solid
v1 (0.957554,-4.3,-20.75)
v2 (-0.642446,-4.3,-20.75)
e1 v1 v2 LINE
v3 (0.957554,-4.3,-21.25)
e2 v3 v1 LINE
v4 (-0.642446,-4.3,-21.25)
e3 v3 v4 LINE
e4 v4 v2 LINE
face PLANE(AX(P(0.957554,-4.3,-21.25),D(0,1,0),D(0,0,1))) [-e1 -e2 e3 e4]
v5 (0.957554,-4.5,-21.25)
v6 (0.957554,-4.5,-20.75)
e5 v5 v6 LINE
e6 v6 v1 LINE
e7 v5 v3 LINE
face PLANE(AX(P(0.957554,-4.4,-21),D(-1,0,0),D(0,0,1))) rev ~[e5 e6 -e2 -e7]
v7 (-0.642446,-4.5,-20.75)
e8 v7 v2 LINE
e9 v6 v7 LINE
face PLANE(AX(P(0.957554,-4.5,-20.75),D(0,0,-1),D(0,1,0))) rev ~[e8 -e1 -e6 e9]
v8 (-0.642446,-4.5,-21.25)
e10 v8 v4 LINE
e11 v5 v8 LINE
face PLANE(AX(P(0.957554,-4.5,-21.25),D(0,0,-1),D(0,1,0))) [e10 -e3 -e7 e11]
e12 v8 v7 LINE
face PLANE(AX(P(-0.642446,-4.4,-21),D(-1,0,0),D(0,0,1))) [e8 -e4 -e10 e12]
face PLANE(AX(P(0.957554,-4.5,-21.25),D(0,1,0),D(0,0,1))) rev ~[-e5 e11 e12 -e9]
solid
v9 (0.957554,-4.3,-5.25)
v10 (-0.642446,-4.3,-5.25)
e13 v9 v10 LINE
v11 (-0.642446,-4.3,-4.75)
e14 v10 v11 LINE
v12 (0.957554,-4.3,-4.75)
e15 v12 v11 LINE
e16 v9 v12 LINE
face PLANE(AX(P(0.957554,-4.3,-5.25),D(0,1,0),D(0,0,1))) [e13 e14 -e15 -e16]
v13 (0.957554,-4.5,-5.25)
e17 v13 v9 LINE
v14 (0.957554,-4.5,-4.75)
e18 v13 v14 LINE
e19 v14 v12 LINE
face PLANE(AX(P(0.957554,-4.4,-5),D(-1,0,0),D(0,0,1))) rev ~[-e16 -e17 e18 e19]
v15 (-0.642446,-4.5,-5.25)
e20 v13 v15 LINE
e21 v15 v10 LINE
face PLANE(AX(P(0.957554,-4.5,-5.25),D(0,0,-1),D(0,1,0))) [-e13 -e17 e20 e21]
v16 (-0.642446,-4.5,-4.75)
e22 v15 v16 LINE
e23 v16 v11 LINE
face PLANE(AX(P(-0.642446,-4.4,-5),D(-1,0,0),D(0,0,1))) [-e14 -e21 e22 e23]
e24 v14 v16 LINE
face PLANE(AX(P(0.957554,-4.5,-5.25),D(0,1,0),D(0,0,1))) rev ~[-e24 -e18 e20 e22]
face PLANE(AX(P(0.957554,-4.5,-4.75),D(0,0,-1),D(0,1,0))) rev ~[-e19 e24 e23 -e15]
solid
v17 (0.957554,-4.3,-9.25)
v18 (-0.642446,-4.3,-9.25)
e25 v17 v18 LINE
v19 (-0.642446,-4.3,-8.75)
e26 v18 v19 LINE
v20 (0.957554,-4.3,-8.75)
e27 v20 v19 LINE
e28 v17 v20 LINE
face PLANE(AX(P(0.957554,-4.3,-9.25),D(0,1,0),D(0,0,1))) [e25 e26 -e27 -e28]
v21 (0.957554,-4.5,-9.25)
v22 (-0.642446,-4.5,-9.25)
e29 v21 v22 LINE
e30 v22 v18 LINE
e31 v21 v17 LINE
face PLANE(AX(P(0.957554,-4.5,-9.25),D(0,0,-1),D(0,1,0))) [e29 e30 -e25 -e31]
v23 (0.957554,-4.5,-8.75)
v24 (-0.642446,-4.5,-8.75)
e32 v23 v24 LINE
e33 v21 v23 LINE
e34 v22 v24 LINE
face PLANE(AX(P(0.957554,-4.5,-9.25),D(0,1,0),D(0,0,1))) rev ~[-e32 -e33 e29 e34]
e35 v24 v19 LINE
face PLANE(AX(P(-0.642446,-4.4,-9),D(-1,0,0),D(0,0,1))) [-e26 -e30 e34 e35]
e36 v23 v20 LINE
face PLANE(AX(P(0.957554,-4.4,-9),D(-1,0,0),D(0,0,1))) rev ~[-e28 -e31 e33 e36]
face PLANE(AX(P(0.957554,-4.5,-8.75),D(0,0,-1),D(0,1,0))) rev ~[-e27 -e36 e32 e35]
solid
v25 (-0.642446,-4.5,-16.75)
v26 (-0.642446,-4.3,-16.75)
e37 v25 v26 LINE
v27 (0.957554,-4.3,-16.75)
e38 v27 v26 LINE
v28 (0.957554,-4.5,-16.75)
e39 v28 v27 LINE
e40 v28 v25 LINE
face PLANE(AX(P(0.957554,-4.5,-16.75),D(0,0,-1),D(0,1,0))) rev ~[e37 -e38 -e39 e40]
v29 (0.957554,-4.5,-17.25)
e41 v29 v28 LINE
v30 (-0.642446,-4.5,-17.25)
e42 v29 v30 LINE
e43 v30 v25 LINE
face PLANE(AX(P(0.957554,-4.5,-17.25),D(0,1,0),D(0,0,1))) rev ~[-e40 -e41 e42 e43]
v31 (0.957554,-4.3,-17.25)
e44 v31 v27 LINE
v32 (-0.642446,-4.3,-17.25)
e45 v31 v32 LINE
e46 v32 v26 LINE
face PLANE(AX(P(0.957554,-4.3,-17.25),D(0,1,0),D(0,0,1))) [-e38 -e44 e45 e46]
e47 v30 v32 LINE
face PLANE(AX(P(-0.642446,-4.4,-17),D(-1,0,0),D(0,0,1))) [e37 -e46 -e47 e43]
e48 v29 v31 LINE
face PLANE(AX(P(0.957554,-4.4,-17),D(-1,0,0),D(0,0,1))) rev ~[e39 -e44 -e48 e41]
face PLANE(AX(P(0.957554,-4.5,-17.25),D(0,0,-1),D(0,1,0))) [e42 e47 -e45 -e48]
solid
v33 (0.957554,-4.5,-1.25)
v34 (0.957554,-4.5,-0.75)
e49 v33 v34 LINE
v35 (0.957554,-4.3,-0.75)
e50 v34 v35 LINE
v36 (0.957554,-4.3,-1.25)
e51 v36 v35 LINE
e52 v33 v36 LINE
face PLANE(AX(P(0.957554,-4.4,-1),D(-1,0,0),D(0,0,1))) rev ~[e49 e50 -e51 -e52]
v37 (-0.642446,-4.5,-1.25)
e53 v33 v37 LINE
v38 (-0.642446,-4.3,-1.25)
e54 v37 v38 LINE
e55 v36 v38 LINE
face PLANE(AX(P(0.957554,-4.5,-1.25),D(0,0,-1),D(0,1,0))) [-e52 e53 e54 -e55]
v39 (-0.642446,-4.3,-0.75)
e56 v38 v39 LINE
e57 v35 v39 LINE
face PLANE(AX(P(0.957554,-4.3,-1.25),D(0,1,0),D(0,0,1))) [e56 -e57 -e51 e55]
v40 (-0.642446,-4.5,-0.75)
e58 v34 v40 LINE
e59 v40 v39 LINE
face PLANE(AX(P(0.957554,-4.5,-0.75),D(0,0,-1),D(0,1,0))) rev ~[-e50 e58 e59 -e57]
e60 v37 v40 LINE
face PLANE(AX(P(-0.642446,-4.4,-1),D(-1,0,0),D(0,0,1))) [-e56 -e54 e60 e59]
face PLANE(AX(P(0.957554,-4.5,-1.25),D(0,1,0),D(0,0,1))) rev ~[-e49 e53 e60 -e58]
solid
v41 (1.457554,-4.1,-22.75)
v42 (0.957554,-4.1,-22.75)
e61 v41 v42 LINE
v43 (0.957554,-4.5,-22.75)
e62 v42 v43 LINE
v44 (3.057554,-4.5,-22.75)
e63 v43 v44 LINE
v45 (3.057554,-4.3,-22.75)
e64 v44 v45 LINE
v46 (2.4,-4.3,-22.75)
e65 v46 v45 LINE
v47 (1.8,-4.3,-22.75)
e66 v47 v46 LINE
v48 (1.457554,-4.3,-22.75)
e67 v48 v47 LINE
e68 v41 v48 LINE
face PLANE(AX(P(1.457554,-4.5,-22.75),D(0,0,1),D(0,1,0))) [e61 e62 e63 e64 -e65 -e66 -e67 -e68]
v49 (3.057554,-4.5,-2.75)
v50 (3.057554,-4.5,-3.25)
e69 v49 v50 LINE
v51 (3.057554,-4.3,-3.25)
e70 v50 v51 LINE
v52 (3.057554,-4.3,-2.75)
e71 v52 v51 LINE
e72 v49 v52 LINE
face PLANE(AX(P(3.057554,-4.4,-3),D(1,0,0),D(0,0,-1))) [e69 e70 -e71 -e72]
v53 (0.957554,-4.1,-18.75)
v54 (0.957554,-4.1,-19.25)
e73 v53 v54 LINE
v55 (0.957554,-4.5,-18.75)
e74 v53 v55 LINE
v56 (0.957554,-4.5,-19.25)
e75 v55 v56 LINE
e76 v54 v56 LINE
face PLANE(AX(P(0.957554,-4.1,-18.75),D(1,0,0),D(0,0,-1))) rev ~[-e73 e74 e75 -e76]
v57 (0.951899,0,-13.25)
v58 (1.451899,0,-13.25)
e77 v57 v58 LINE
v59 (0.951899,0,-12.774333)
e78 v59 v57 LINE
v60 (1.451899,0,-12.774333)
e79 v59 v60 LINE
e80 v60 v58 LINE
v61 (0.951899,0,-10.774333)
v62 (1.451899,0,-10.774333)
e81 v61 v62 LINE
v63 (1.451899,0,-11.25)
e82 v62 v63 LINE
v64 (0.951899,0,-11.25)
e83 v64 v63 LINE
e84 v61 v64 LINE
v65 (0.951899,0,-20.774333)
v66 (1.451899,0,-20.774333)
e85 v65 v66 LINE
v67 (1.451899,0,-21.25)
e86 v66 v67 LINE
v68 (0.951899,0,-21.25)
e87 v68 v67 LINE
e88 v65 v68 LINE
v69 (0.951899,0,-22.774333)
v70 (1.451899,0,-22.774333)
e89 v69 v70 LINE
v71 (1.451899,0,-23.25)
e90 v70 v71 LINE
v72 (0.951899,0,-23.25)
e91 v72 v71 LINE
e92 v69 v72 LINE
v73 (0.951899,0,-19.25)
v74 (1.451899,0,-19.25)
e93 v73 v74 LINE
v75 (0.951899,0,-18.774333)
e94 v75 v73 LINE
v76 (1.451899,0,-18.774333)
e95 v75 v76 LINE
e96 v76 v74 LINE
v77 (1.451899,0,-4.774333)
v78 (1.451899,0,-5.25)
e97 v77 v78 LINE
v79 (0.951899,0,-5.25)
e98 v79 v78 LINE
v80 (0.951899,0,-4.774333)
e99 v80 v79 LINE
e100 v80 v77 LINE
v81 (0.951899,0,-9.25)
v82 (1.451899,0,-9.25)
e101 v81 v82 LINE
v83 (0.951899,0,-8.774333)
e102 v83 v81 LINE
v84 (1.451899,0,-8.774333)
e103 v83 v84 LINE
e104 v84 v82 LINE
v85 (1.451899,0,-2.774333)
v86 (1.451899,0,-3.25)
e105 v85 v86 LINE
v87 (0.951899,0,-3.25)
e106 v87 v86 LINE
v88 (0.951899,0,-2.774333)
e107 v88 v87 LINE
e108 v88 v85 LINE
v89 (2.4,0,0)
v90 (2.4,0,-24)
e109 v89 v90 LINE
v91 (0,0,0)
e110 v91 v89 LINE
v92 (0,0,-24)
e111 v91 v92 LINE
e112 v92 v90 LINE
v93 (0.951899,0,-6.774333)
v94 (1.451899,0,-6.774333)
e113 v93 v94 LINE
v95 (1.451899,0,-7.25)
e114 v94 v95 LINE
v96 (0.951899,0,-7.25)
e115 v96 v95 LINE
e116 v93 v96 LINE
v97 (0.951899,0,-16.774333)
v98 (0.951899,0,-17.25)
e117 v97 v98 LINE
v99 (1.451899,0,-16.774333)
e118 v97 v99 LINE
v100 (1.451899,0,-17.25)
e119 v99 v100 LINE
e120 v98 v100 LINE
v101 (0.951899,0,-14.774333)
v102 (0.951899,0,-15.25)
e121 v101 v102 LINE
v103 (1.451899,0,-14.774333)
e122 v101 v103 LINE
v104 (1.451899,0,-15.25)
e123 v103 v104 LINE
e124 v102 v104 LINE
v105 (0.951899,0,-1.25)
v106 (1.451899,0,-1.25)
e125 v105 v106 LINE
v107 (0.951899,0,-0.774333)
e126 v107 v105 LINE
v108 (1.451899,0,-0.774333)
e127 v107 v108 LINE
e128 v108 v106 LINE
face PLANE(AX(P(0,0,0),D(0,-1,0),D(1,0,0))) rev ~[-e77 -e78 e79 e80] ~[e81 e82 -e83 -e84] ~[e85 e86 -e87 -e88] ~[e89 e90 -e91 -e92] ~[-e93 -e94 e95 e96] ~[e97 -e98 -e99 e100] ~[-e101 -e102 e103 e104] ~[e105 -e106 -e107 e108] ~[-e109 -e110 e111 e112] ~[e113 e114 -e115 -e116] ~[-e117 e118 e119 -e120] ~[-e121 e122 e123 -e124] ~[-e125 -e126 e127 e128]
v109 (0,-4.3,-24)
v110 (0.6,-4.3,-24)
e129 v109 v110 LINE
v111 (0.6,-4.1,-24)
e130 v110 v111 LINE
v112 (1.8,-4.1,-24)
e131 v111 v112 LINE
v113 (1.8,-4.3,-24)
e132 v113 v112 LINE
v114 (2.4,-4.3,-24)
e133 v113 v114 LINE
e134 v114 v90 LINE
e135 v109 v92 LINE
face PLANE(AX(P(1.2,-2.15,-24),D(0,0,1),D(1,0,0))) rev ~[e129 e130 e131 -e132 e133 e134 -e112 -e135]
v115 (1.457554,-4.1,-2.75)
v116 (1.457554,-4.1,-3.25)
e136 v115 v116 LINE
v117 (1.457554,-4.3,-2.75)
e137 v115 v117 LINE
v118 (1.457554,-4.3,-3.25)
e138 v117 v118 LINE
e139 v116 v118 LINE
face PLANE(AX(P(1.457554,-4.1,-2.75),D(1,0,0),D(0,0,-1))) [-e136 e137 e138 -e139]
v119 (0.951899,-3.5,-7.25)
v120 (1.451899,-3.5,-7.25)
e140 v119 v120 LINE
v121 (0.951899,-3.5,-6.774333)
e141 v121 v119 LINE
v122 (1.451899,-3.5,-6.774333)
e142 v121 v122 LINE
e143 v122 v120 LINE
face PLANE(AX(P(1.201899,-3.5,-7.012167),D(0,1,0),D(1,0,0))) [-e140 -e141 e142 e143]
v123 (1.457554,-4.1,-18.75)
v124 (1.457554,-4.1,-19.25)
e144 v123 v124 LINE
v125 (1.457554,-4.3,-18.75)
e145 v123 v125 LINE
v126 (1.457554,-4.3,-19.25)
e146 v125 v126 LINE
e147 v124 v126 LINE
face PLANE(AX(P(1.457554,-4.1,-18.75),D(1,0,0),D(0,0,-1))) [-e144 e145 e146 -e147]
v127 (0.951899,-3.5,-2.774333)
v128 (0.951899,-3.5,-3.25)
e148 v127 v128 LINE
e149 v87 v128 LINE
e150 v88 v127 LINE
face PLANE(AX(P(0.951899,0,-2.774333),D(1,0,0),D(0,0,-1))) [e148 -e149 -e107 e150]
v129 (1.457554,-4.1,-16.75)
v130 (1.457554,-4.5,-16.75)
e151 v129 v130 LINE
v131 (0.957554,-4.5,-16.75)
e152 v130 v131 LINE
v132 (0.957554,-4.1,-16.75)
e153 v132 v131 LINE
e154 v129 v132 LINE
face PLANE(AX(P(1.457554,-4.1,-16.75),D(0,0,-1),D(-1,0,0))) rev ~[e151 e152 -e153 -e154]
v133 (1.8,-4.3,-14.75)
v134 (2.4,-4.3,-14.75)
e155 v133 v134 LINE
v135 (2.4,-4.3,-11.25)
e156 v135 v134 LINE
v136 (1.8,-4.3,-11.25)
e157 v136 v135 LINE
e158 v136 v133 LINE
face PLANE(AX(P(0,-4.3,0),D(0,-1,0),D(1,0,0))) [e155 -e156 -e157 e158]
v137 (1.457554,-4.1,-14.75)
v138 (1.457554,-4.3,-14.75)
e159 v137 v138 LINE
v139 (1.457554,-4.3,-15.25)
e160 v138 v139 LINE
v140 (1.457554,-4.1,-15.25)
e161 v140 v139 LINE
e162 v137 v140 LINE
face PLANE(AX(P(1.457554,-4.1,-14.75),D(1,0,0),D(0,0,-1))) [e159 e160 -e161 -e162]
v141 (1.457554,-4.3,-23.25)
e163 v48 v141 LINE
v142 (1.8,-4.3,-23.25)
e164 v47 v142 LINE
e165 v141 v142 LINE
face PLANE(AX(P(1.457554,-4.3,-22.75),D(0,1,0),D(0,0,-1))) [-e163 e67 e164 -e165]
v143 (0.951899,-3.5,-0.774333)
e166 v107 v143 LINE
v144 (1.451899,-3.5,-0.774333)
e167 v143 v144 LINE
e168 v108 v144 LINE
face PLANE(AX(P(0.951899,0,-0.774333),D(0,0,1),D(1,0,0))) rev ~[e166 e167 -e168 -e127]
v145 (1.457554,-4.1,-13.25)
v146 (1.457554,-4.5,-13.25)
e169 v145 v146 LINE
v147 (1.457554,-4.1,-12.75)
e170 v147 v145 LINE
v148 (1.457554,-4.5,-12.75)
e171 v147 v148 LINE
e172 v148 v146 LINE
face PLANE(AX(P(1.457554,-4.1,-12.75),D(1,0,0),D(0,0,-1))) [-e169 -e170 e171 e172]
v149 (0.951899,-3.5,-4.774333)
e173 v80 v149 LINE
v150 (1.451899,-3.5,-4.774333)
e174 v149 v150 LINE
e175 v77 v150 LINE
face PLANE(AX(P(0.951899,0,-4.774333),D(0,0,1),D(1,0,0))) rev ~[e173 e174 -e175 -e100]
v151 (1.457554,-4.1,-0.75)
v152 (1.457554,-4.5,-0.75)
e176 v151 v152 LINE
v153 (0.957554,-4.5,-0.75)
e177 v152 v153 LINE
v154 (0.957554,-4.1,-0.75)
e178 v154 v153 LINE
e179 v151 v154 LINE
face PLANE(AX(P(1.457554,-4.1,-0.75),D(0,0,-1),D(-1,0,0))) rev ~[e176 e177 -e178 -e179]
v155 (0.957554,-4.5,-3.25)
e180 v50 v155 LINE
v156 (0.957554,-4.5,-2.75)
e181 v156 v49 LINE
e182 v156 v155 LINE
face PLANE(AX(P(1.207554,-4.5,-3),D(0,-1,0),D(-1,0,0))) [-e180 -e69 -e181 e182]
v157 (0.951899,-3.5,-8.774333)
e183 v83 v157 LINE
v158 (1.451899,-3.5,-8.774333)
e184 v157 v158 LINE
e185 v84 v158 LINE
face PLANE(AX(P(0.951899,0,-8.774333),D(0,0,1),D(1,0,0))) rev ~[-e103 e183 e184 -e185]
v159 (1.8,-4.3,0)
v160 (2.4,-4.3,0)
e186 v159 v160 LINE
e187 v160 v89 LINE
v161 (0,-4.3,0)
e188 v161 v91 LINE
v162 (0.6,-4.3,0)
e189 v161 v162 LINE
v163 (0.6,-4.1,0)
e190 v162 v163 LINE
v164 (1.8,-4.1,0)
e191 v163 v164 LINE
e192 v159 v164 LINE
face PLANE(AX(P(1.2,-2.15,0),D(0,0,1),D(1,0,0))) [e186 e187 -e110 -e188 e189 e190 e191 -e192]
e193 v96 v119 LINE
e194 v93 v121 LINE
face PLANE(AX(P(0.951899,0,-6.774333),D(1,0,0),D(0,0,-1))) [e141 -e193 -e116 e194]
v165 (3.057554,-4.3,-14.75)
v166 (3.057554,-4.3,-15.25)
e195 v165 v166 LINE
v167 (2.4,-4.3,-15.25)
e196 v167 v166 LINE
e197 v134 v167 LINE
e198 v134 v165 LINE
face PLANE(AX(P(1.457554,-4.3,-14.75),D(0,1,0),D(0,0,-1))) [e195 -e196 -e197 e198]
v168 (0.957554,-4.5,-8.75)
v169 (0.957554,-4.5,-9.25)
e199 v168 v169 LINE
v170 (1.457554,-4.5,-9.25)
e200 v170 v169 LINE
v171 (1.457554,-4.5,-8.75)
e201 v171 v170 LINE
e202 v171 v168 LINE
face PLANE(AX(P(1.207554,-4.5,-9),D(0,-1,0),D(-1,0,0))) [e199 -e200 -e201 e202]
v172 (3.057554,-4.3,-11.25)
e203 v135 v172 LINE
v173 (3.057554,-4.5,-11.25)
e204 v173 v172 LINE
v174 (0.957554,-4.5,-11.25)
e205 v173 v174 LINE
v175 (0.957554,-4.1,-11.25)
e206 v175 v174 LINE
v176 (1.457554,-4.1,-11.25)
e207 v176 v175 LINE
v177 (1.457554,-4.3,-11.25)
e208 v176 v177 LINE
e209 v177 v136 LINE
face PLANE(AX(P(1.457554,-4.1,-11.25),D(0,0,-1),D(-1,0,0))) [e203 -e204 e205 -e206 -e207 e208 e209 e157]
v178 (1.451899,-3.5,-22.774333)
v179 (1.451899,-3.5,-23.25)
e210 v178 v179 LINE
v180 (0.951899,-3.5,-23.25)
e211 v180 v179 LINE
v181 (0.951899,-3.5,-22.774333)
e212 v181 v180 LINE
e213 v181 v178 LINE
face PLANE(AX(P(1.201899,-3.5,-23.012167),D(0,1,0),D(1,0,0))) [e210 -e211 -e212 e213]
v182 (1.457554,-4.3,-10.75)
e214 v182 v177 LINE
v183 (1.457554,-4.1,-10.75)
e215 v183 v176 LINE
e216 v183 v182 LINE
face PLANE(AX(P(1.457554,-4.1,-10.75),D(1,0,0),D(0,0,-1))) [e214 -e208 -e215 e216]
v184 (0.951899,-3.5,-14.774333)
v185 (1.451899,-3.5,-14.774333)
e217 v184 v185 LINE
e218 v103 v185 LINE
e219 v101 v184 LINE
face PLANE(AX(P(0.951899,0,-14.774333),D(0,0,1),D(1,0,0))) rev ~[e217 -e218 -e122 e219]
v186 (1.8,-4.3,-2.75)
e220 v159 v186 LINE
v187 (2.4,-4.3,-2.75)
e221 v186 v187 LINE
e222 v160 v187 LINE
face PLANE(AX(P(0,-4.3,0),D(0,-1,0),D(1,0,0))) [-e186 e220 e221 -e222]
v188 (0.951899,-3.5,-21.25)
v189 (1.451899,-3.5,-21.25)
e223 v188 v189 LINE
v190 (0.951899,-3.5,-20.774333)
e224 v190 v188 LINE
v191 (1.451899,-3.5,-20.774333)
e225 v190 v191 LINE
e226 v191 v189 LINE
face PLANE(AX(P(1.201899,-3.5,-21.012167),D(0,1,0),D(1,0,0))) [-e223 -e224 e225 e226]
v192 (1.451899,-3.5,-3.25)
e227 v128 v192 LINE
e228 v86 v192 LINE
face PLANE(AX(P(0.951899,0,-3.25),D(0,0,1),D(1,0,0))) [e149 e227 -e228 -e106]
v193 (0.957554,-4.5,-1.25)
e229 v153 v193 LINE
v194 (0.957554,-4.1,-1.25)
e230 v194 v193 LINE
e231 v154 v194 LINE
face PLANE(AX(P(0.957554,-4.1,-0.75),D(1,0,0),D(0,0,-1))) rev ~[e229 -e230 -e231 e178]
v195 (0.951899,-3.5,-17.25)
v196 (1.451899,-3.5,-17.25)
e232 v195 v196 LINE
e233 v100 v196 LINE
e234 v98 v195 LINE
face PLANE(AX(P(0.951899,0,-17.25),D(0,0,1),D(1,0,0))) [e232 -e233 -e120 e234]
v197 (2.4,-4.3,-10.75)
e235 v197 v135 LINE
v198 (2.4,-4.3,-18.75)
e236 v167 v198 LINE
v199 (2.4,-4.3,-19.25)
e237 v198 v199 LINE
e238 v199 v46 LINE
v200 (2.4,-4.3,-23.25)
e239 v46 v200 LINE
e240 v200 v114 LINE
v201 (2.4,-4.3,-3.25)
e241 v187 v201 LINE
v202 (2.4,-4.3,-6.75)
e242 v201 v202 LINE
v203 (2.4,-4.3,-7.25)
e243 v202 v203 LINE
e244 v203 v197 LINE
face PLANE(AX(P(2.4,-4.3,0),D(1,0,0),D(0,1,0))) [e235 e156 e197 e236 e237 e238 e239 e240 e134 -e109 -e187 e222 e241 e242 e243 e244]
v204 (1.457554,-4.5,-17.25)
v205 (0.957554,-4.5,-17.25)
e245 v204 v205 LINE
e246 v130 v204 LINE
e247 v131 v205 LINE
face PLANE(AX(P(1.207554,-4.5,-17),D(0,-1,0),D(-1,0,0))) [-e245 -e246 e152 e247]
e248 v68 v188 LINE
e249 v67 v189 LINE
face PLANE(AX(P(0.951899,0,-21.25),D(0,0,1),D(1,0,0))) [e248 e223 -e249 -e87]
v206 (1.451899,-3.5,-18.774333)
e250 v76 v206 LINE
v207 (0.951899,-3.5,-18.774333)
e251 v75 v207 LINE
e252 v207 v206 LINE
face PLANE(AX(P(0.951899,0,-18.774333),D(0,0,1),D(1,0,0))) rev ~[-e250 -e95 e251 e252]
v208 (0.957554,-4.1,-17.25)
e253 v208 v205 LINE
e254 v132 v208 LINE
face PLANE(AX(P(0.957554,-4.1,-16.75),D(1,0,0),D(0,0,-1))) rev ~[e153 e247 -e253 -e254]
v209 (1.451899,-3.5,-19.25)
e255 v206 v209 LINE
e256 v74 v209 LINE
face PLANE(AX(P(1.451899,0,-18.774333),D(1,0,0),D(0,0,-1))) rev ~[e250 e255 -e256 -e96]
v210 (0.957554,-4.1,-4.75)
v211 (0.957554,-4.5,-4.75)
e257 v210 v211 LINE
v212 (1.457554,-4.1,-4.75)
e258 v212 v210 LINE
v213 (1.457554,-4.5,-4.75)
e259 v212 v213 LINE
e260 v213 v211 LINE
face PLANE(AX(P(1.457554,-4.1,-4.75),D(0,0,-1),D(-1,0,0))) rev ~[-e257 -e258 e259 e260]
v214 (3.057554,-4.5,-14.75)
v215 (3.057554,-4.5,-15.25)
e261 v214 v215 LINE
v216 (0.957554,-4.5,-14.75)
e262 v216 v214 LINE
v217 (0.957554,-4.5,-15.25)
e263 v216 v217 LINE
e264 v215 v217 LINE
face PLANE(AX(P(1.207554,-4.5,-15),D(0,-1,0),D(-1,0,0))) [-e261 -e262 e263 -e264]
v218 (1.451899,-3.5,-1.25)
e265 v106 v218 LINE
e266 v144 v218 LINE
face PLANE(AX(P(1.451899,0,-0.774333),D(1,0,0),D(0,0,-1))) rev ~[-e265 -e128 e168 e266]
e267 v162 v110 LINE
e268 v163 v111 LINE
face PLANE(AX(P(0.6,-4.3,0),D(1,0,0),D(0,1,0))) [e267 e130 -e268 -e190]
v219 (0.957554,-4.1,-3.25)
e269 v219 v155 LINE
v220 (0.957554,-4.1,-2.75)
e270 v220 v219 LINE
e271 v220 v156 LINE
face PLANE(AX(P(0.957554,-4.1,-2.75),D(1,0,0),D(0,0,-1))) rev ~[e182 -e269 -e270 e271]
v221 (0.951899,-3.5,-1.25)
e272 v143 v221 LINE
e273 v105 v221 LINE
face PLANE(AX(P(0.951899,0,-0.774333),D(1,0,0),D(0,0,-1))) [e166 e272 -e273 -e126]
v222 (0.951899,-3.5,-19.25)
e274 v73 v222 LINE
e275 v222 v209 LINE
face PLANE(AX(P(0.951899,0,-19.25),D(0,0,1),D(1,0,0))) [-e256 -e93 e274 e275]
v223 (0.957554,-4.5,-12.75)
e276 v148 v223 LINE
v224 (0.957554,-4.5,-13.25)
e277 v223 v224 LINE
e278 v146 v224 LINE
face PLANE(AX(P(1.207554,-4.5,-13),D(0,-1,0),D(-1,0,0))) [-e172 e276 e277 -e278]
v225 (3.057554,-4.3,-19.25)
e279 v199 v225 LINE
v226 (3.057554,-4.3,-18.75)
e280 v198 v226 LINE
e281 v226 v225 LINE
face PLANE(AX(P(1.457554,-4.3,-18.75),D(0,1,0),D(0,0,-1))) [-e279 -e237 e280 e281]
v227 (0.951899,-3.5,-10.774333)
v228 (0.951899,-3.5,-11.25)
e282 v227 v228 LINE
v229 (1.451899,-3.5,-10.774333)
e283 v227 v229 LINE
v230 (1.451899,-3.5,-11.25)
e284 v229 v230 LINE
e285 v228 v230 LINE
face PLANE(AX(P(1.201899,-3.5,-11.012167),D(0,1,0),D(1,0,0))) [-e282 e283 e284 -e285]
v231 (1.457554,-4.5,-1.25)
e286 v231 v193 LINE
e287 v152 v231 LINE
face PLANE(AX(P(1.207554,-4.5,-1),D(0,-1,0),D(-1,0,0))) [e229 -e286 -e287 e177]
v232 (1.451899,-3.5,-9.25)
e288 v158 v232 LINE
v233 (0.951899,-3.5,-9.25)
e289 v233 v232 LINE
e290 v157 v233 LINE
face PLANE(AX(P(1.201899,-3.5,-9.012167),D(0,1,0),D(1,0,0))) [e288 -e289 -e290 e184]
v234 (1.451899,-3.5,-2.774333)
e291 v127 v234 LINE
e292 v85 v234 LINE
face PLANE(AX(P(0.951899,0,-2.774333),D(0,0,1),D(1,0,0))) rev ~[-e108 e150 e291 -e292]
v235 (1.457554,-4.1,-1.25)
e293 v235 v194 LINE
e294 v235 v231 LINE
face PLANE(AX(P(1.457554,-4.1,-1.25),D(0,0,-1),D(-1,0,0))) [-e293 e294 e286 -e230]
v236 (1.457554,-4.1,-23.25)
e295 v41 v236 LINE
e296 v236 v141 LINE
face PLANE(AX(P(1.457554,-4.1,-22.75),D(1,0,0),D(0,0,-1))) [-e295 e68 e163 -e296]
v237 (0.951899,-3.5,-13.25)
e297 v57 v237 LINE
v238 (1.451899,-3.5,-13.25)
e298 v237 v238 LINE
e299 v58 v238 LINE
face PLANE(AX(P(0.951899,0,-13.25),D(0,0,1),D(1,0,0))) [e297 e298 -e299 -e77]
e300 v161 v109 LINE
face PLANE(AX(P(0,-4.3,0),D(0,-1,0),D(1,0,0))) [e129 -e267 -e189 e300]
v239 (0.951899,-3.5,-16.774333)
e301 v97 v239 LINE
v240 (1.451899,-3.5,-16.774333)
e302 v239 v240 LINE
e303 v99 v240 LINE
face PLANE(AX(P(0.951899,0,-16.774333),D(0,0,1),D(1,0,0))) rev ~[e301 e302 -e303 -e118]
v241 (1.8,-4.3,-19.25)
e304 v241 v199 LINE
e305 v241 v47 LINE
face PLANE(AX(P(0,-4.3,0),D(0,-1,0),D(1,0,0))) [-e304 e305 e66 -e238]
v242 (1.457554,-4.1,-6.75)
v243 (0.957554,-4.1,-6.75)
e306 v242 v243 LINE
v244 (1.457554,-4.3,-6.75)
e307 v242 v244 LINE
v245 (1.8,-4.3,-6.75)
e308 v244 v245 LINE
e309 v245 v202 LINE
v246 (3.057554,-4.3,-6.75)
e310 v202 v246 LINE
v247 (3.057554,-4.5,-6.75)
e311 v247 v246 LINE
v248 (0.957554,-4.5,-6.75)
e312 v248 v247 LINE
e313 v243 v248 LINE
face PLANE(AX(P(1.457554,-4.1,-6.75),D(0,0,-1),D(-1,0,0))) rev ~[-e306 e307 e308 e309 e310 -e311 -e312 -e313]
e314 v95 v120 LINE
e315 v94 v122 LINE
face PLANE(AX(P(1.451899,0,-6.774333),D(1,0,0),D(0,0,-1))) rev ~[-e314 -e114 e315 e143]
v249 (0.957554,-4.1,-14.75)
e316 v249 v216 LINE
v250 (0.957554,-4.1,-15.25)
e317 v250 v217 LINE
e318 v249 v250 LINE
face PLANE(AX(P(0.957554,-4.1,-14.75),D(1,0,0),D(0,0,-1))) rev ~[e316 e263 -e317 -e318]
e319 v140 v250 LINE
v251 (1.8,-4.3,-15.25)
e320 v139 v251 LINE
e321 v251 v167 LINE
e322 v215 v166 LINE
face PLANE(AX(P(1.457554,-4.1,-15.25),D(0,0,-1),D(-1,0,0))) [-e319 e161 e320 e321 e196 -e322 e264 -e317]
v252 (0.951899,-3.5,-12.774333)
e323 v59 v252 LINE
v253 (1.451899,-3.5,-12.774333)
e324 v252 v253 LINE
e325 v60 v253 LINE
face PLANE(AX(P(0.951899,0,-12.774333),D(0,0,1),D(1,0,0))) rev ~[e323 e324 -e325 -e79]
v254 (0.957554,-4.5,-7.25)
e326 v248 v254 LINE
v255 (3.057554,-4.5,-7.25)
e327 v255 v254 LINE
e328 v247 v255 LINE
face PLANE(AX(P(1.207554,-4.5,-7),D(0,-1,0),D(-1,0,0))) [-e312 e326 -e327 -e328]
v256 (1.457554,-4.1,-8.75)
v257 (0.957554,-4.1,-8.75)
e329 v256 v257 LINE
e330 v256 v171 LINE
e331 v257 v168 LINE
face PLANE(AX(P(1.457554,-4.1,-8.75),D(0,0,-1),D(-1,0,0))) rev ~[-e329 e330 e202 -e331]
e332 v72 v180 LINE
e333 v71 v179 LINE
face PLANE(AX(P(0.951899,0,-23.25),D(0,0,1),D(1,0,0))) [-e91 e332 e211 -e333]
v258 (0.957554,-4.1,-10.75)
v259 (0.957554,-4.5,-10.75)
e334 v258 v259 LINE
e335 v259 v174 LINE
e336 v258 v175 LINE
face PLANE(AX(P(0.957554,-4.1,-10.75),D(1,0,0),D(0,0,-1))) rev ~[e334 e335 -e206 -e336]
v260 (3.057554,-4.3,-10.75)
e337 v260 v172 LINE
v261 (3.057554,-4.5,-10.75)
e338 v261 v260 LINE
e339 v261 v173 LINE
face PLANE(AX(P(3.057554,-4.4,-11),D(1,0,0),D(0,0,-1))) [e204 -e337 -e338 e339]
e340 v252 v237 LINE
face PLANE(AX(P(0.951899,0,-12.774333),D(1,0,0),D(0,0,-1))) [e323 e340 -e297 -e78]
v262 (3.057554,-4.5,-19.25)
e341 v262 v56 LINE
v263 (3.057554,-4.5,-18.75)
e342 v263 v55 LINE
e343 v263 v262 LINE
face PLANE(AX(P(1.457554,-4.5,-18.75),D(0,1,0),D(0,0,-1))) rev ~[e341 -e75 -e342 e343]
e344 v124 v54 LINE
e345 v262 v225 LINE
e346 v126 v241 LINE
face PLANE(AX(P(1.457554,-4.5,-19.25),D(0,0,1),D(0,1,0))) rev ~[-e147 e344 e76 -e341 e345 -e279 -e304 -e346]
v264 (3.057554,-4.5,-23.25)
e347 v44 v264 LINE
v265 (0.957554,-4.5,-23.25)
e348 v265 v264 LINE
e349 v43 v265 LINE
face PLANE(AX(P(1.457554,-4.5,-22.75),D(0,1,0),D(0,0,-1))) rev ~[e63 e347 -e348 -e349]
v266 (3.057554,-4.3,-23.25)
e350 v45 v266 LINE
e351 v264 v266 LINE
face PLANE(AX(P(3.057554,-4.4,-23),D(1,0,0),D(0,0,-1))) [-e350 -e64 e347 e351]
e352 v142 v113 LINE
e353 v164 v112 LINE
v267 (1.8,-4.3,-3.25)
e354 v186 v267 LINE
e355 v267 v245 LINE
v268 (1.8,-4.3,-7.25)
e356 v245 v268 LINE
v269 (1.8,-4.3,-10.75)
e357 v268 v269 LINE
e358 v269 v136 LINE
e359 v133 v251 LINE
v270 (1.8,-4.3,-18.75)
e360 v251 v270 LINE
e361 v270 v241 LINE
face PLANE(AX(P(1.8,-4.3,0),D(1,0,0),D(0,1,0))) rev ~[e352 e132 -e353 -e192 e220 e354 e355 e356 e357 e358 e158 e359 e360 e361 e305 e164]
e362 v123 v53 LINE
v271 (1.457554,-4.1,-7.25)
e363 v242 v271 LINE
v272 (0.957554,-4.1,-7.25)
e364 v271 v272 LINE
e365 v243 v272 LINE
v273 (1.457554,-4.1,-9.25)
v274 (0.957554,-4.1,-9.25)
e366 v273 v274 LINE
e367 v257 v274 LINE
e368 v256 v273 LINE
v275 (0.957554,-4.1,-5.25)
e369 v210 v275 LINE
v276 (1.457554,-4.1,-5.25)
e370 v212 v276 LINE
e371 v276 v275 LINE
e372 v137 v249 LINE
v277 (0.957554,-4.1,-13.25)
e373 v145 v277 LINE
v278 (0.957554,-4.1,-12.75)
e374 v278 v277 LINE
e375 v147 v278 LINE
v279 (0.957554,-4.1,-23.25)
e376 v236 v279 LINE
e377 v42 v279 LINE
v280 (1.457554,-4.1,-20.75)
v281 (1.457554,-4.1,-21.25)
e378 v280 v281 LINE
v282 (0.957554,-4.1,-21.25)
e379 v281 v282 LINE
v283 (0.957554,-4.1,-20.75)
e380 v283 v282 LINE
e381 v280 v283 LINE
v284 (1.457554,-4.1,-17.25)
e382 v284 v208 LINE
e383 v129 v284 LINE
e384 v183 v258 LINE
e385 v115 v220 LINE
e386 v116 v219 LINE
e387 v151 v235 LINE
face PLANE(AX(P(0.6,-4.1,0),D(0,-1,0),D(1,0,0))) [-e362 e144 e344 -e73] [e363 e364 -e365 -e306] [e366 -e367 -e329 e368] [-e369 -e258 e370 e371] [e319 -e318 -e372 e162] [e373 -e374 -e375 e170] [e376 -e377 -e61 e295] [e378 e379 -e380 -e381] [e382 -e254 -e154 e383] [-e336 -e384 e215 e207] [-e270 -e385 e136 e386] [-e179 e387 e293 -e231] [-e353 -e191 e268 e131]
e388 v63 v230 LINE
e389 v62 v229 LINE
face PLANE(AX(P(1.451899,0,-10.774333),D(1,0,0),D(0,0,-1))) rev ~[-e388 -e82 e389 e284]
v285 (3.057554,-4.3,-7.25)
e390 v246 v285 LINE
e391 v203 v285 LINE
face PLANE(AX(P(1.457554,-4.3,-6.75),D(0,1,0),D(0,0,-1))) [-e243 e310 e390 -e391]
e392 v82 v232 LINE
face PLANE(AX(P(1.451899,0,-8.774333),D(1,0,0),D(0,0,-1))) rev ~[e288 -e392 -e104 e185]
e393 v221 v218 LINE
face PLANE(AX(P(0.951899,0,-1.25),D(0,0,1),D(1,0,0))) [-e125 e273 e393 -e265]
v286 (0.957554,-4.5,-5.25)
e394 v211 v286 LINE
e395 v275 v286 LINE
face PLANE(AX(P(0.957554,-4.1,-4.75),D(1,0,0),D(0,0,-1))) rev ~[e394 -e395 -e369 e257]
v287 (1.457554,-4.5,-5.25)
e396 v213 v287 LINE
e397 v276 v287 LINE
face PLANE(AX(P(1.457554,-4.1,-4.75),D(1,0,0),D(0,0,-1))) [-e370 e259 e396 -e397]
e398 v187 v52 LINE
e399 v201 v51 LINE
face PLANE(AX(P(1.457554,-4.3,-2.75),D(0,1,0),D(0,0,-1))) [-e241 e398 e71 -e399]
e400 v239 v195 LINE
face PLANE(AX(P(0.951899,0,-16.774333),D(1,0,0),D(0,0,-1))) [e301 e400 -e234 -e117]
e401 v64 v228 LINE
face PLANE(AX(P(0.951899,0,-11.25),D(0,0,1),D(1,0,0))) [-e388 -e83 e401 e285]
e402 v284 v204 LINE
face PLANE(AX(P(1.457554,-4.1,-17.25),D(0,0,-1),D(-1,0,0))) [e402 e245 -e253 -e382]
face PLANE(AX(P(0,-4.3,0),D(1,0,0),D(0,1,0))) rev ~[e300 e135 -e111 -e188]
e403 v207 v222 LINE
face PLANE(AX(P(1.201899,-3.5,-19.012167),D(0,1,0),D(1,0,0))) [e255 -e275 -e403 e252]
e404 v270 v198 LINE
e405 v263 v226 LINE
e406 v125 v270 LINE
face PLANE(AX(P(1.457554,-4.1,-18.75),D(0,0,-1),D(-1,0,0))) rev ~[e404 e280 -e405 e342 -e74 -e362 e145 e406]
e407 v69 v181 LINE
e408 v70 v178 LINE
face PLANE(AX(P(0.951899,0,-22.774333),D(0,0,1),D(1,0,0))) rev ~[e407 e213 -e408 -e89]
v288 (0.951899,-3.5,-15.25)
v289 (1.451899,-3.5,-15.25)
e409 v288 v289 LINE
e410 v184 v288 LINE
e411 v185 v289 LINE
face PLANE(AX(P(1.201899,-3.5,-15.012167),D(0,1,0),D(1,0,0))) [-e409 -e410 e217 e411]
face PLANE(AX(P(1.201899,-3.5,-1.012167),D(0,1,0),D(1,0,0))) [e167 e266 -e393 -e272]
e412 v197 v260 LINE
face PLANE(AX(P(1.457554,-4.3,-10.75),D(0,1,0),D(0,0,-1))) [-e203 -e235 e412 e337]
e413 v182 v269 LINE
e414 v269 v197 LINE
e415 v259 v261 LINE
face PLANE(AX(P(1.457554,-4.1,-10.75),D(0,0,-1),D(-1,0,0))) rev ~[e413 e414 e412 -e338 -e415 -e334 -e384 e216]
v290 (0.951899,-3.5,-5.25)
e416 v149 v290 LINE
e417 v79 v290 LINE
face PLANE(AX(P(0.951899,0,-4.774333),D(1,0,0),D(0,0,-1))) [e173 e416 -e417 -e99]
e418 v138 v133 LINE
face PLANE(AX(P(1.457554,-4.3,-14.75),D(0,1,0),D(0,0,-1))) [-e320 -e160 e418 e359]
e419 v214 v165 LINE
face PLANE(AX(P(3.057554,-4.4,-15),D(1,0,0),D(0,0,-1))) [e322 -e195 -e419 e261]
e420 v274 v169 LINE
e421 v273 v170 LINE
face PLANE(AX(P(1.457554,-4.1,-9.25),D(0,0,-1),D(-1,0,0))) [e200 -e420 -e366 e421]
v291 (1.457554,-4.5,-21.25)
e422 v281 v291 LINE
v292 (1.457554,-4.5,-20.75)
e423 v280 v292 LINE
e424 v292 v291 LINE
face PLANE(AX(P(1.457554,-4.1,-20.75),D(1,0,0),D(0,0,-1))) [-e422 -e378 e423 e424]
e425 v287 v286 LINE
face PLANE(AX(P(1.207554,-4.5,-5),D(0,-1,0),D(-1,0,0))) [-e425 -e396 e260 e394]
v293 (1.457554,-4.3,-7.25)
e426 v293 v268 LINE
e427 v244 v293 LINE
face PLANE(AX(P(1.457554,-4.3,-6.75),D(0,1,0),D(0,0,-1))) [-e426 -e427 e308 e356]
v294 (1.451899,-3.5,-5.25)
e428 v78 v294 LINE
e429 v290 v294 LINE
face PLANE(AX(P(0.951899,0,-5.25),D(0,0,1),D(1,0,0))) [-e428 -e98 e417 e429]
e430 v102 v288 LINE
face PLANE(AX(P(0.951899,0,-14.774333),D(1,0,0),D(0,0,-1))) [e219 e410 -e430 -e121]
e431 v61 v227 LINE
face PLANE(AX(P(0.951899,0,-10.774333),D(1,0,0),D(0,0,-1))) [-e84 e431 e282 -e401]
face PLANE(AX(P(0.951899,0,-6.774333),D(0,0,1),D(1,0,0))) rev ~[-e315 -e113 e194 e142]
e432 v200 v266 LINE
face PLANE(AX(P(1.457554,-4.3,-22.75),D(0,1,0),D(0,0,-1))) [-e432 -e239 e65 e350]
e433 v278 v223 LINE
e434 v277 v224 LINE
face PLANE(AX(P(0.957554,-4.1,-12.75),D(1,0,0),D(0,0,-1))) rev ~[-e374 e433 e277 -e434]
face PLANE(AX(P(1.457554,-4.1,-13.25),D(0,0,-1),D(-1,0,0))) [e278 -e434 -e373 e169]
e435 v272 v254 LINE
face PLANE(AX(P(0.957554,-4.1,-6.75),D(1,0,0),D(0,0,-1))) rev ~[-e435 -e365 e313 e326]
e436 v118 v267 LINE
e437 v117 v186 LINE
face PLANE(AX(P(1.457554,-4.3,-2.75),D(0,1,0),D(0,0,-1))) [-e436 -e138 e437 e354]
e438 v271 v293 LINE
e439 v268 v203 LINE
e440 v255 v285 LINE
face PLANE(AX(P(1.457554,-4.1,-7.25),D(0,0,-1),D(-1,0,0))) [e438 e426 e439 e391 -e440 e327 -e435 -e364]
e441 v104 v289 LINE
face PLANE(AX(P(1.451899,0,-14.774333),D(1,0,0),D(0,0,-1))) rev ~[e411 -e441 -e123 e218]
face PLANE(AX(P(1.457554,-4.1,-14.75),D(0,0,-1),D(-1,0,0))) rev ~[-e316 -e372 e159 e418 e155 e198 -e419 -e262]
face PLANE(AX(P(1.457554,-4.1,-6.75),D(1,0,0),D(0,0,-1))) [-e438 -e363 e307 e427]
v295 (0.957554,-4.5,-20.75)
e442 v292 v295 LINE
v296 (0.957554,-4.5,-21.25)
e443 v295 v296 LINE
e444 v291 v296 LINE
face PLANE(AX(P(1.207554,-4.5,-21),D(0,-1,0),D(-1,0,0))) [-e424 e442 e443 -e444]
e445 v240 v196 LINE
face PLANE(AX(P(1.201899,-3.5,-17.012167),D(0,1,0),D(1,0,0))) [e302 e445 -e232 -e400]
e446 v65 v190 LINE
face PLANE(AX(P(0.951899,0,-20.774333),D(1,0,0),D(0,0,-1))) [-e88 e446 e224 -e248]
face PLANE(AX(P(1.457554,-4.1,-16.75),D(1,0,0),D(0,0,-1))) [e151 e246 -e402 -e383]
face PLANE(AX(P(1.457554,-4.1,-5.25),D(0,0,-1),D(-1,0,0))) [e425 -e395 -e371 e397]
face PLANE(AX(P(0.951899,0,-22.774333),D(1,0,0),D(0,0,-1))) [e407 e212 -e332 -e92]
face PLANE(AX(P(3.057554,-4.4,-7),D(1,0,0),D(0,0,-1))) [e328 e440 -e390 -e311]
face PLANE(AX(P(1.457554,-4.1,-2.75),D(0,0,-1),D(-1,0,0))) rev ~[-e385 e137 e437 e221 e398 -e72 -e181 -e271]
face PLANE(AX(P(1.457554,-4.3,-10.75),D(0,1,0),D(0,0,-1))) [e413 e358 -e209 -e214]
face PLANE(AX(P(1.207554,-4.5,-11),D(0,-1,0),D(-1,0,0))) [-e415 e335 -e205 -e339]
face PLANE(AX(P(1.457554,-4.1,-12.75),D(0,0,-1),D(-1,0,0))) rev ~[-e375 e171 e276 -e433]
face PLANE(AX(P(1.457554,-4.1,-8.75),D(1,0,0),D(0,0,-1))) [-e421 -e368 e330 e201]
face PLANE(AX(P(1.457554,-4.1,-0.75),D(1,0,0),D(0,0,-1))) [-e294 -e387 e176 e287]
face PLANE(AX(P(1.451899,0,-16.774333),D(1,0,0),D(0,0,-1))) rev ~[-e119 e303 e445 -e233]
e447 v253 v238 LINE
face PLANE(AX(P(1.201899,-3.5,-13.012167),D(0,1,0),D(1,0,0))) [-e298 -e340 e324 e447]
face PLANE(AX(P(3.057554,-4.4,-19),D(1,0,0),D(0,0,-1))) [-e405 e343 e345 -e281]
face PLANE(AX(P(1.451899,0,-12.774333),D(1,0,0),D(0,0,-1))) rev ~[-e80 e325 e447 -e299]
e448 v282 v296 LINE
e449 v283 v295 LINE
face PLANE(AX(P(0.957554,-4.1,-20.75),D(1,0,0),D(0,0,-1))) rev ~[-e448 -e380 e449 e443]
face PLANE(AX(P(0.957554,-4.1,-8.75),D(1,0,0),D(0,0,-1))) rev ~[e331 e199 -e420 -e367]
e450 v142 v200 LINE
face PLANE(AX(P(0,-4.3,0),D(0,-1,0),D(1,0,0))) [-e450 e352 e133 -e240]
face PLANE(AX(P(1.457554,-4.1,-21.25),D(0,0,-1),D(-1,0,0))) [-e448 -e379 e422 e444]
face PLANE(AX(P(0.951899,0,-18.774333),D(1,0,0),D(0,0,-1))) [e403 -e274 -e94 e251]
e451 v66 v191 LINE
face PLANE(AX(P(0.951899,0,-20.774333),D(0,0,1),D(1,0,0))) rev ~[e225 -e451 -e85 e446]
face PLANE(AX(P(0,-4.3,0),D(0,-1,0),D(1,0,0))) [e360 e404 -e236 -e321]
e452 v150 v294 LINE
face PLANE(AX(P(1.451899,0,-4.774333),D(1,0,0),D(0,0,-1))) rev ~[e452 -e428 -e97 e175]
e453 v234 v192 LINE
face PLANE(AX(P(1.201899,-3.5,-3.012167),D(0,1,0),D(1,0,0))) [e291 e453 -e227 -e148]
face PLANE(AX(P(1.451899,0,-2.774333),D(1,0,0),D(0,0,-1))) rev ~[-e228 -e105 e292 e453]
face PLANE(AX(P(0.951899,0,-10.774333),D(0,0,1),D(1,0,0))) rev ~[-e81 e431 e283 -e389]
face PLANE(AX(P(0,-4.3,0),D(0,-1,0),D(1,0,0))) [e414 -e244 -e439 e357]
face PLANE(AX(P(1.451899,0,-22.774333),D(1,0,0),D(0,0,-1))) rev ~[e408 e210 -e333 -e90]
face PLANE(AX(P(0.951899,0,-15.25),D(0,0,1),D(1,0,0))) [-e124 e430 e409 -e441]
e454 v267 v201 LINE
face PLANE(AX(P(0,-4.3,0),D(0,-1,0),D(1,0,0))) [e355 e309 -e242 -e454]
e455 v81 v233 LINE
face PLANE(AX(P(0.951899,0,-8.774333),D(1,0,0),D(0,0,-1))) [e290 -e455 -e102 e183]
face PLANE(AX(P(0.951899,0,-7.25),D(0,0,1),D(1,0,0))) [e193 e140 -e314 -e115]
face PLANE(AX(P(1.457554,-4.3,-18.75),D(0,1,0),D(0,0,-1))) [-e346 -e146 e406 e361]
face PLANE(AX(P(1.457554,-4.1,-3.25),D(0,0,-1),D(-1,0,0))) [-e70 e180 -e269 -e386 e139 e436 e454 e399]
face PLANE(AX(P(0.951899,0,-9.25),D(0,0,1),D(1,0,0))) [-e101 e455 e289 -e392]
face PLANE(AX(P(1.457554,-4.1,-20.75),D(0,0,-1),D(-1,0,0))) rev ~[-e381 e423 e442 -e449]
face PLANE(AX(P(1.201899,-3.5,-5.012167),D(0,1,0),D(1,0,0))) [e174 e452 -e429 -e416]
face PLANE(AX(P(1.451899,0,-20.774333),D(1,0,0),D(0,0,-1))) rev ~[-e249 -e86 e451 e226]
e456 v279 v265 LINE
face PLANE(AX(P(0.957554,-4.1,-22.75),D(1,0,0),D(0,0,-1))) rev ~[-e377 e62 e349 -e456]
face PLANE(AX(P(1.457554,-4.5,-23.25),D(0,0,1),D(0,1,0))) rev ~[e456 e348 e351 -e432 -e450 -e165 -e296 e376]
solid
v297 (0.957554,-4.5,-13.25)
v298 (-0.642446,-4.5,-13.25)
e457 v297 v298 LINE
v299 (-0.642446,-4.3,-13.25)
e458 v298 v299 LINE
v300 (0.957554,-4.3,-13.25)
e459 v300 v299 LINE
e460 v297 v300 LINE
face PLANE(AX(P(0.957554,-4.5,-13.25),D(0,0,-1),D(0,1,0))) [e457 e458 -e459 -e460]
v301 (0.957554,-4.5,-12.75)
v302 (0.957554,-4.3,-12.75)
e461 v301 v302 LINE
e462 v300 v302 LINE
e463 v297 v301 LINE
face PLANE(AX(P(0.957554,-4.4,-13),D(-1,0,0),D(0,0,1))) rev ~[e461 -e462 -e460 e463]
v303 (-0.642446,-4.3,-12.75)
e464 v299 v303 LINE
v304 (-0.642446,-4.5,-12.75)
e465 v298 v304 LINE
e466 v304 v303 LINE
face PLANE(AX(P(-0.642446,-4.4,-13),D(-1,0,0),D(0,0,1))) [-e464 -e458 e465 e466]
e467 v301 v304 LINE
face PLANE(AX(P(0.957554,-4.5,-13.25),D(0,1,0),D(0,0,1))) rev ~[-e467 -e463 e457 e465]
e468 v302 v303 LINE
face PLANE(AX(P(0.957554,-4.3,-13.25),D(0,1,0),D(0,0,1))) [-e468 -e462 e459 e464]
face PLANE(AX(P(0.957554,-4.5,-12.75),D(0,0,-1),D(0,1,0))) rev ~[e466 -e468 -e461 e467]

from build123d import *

# Parameters (mm, degrees)
SKETCH1_W           = 2.4
SKETCH1_H           = 4.3
BOSS_EXTRUDE1_DEPTH = 24
SKETCH2_W           = 1.2
SKETCH2_H           = 0.2
CUT_EXTRUDE1_DEPTH  = 25
SKETCH3_W           = 0.5
SKETCH3_H           = 0.5
BOSS_EXTRUDE2_DEPTH = 0.4
SKETCH7_W           = 0.5
SKETCH7_H           = 0.475666933
CUT_EXTRUDE2_DEPTH  = 3.5
SKETCH_1_W          = 0.5
SKETCH_1_H          = 0.2
EXTRUDE_1_DEPTH     = 1.6
SKETCH_2_W          = 0.5
SKETCH_2_H          = 0.2
EXTRUDE_2_DEPTH     = 1.6
EXTRUDE_2_2_DEPTH   = 1.6
EXTRUDE_2_3_DEPTH   = 1.6
EXTRUDE_2_4_DEPTH   = 1.6
EXTRUDE_2_5_DEPTH   = 1.6
EXTRUDE_2_6_DEPTH   = 1.6


with BuildPart() as part:
    # Sketch1 → Boss-Extrude1 (new body)
    with BuildSketch(Plane.XY):
        with Locations((1.2, -2.15)):
            Rectangle(SKETCH1_W, SKETCH1_H)
    extrude(amount=-BOSS_EXTRUDE1_DEPTH)

    # Sketch2 → Cut-Extrude1 (cut, through all)
    with BuildSketch(Plane.XY):
        with Locations((1.2, -4.2)):
            Rectangle(SKETCH2_W, SKETCH2_H)
    extrude(amount=-CUT_EXTRUDE1_DEPTH, mode=Mode.SUBTRACT)

    # Sketch3 → Boss-Extrude2 (add)
    with BuildSketch(Plane(origin=(0, -4.1, 0), x_dir=(-1, 0, 0), z_dir=(0, -1, 0))):
        with Locations((-1.207554148, 1)):
            Rectangle(SKETCH3_W, SKETCH3_H)
        with Locations((-1.207554148, 3)):
            Rectangle(SKETCH3_W, SKETCH3_H)
        with Locations((-1.207554148, 5)):
            Rectangle(SKETCH3_W, SKETCH3_H)
        with Locations((-1.207554148, 7)):
            Rectangle(SKETCH3_W, SKETCH3_H)
        with Locations((-1.207554148, 9)):
            Rectangle(SKETCH3_W, SKETCH3_H)
        with Locations((-1.207554148, 11)):
            Rectangle(SKETCH3_W, SKETCH3_H)
        with Locations((-1.207554148, 13)):
            Rectangle(SKETCH3_W, SKETCH3_H)
        with Locations((-1.207554148, 15)):
            Rectangle(SKETCH3_W, SKETCH3_H)
        with Locations((-1.207554148, 17)):
            Rectangle(SKETCH3_W, SKETCH3_H)
        with Locations((-1.207554148, 19)):
            Rectangle(SKETCH3_W, SKETCH3_H)
        with Locations((-1.207554148, 21)):
            Rectangle(SKETCH3_W, SKETCH3_H)
        with Locations((-1.207554148, 23)):
            Rectangle(SKETCH3_W, SKETCH3_H)
    extrude(amount=BOSS_EXTRUDE2_DEPTH)

    # Sketch7 → Cut-Extrude2 (cut)
    with BuildSketch(Plane(origin=(0, 0, 0), x_dir=(1, 0, 0), z_dir=(0, 1, 0))):
        with Locations((1.201899432, 21.012166534)):
            Rectangle(SKETCH7_W, SKETCH7_H)
        with Locations((1.201899432, 23.012166534)):
            Rectangle(SKETCH7_W, SKETCH7_H)
        with Locations((1.201899432, 19.012166534)):
            Rectangle(SKETCH7_W, SKETCH7_H)
        with Locations((1.201899432, 17.012166534)):
            Rectangle(SKETCH7_W, SKETCH7_H)
        with Locations((1.201899432, 15.012166534)):
            Rectangle(SKETCH7_W, SKETCH7_H)
        with Locations((1.201899432, 13.012166534)):
            Rectangle(SKETCH7_W, SKETCH7_H)
        with Locations((1.201899432, 11.012166534)):
            Rectangle(SKETCH7_W, SKETCH7_H)
        with Locations((1.201899432, 9.012166534)):
            Rectangle(SKETCH7_W, SKETCH7_H)
        with Locations((1.201899432, 7.012166534)):
            Rectangle(SKETCH7_W, SKETCH7_H)
        with Locations((1.201899432, 5.012166534)):
            Rectangle(SKETCH7_W, SKETCH7_H)
        with Locations((1.201899432, 3.012166534)):
            Rectangle(SKETCH7_W, SKETCH7_H)
        with Locations((1.201899432, 1.012166534)):
            Rectangle(SKETCH7_W, SKETCH7_H)
    extrude(amount=-CUT_EXTRUDE2_DEPTH, mode=Mode.SUBTRACT)

    # ｽｹｯﾁ1 → ﾎﾞｽ - 押し出し1 (add)
    with BuildSketch(Plane(origin=(1.457554148, 0, 0), x_dir=(0, 0, -1), z_dir=(1, 0, 0))):
        with Locations((23, -4.4)):
            Rectangle(SKETCH_1_W, SKETCH_1_H)
        with Locations((19, -4.4)):
            Rectangle(SKETCH_1_W, SKETCH_1_H)
        with Locations((15, -4.4)):
            Rectangle(SKETCH_1_W, SKETCH_1_H)
        with Locations((11, -4.4)):
            Rectangle(SKETCH_1_W, SKETCH_1_H)
        with Locations((7, -4.4)):
            Rectangle(SKETCH_1_W, SKETCH_1_H)
        with Locations((3, -4.4)):
            Rectangle(SKETCH_1_W, SKETCH_1_H)
    extrude(amount=EXTRUDE_1_DEPTH)


with BuildPart() as body_2:
    # ｽｹｯﾁ2 → ﾎﾞｽ - 押し出し2 (new body)
    with BuildSketch(Plane.ZY.offset(-0.957554148)):
        with Locations((-1, -4.4)):
            Rectangle(SKETCH_2_W, SKETCH_2_H)
    extrude(amount=EXTRUDE_2_DEPTH)


with BuildPart() as body_3:
    # ｽｹｯﾁ2 → Extrude 2 2 (new body)
    with BuildSketch(Plane.ZY.offset(-0.957554148)):
        with Locations((-5, -4.4)):
            Rectangle(SKETCH_2_W, SKETCH_2_H)
    extrude(amount=EXTRUDE_2_2_DEPTH)


with BuildPart() as body_4:
    # ｽｹｯﾁ2 → Extrude 2 3 (new body)
    with BuildSketch(Plane.ZY.offset(-0.957554148)):
        with Locations((-9, -4.4)):
            Rectangle(SKETCH_2_W, SKETCH_2_H)
    extrude(amount=EXTRUDE_2_3_DEPTH)


with BuildPart() as body_5:
    # ｽｹｯﾁ2 → Extrude 2 4 (new body)
    with BuildSketch(Plane.ZY.offset(-0.957554148)):
        with Locations((-13, -4.4)):
            Rectangle(SKETCH_2_W, SKETCH_2_H)
    extrude(amount=EXTRUDE_2_4_DEPTH)


with BuildPart() as body_6:
    # ｽｹｯﾁ2 → Extrude 2 5 (new body)
    with BuildSketch(Plane.ZY.offset(-0.957554148)):
        with Locations((-17, -4.4)):
            Rectangle(SKETCH_2_W, SKETCH_2_H)
    extrude(amount=EXTRUDE_2_5_DEPTH)


with BuildPart() as body_7:
    # ｽｹｯﾁ2 → Extrude 2 6 (new body)
    with BuildSketch(Plane.ZY.offset(-0.957554148)):
        with Locations((-21, -4.4)):
            Rectangle(SKETCH_2_W, SKETCH_2_H)
    extrude(amount=EXTRUDE_2_6_DEPTH)


solid = Compound([part.part, body_2.part, body_3.part, body_4.part, body_5.part, body_6.part, body_7.part])
